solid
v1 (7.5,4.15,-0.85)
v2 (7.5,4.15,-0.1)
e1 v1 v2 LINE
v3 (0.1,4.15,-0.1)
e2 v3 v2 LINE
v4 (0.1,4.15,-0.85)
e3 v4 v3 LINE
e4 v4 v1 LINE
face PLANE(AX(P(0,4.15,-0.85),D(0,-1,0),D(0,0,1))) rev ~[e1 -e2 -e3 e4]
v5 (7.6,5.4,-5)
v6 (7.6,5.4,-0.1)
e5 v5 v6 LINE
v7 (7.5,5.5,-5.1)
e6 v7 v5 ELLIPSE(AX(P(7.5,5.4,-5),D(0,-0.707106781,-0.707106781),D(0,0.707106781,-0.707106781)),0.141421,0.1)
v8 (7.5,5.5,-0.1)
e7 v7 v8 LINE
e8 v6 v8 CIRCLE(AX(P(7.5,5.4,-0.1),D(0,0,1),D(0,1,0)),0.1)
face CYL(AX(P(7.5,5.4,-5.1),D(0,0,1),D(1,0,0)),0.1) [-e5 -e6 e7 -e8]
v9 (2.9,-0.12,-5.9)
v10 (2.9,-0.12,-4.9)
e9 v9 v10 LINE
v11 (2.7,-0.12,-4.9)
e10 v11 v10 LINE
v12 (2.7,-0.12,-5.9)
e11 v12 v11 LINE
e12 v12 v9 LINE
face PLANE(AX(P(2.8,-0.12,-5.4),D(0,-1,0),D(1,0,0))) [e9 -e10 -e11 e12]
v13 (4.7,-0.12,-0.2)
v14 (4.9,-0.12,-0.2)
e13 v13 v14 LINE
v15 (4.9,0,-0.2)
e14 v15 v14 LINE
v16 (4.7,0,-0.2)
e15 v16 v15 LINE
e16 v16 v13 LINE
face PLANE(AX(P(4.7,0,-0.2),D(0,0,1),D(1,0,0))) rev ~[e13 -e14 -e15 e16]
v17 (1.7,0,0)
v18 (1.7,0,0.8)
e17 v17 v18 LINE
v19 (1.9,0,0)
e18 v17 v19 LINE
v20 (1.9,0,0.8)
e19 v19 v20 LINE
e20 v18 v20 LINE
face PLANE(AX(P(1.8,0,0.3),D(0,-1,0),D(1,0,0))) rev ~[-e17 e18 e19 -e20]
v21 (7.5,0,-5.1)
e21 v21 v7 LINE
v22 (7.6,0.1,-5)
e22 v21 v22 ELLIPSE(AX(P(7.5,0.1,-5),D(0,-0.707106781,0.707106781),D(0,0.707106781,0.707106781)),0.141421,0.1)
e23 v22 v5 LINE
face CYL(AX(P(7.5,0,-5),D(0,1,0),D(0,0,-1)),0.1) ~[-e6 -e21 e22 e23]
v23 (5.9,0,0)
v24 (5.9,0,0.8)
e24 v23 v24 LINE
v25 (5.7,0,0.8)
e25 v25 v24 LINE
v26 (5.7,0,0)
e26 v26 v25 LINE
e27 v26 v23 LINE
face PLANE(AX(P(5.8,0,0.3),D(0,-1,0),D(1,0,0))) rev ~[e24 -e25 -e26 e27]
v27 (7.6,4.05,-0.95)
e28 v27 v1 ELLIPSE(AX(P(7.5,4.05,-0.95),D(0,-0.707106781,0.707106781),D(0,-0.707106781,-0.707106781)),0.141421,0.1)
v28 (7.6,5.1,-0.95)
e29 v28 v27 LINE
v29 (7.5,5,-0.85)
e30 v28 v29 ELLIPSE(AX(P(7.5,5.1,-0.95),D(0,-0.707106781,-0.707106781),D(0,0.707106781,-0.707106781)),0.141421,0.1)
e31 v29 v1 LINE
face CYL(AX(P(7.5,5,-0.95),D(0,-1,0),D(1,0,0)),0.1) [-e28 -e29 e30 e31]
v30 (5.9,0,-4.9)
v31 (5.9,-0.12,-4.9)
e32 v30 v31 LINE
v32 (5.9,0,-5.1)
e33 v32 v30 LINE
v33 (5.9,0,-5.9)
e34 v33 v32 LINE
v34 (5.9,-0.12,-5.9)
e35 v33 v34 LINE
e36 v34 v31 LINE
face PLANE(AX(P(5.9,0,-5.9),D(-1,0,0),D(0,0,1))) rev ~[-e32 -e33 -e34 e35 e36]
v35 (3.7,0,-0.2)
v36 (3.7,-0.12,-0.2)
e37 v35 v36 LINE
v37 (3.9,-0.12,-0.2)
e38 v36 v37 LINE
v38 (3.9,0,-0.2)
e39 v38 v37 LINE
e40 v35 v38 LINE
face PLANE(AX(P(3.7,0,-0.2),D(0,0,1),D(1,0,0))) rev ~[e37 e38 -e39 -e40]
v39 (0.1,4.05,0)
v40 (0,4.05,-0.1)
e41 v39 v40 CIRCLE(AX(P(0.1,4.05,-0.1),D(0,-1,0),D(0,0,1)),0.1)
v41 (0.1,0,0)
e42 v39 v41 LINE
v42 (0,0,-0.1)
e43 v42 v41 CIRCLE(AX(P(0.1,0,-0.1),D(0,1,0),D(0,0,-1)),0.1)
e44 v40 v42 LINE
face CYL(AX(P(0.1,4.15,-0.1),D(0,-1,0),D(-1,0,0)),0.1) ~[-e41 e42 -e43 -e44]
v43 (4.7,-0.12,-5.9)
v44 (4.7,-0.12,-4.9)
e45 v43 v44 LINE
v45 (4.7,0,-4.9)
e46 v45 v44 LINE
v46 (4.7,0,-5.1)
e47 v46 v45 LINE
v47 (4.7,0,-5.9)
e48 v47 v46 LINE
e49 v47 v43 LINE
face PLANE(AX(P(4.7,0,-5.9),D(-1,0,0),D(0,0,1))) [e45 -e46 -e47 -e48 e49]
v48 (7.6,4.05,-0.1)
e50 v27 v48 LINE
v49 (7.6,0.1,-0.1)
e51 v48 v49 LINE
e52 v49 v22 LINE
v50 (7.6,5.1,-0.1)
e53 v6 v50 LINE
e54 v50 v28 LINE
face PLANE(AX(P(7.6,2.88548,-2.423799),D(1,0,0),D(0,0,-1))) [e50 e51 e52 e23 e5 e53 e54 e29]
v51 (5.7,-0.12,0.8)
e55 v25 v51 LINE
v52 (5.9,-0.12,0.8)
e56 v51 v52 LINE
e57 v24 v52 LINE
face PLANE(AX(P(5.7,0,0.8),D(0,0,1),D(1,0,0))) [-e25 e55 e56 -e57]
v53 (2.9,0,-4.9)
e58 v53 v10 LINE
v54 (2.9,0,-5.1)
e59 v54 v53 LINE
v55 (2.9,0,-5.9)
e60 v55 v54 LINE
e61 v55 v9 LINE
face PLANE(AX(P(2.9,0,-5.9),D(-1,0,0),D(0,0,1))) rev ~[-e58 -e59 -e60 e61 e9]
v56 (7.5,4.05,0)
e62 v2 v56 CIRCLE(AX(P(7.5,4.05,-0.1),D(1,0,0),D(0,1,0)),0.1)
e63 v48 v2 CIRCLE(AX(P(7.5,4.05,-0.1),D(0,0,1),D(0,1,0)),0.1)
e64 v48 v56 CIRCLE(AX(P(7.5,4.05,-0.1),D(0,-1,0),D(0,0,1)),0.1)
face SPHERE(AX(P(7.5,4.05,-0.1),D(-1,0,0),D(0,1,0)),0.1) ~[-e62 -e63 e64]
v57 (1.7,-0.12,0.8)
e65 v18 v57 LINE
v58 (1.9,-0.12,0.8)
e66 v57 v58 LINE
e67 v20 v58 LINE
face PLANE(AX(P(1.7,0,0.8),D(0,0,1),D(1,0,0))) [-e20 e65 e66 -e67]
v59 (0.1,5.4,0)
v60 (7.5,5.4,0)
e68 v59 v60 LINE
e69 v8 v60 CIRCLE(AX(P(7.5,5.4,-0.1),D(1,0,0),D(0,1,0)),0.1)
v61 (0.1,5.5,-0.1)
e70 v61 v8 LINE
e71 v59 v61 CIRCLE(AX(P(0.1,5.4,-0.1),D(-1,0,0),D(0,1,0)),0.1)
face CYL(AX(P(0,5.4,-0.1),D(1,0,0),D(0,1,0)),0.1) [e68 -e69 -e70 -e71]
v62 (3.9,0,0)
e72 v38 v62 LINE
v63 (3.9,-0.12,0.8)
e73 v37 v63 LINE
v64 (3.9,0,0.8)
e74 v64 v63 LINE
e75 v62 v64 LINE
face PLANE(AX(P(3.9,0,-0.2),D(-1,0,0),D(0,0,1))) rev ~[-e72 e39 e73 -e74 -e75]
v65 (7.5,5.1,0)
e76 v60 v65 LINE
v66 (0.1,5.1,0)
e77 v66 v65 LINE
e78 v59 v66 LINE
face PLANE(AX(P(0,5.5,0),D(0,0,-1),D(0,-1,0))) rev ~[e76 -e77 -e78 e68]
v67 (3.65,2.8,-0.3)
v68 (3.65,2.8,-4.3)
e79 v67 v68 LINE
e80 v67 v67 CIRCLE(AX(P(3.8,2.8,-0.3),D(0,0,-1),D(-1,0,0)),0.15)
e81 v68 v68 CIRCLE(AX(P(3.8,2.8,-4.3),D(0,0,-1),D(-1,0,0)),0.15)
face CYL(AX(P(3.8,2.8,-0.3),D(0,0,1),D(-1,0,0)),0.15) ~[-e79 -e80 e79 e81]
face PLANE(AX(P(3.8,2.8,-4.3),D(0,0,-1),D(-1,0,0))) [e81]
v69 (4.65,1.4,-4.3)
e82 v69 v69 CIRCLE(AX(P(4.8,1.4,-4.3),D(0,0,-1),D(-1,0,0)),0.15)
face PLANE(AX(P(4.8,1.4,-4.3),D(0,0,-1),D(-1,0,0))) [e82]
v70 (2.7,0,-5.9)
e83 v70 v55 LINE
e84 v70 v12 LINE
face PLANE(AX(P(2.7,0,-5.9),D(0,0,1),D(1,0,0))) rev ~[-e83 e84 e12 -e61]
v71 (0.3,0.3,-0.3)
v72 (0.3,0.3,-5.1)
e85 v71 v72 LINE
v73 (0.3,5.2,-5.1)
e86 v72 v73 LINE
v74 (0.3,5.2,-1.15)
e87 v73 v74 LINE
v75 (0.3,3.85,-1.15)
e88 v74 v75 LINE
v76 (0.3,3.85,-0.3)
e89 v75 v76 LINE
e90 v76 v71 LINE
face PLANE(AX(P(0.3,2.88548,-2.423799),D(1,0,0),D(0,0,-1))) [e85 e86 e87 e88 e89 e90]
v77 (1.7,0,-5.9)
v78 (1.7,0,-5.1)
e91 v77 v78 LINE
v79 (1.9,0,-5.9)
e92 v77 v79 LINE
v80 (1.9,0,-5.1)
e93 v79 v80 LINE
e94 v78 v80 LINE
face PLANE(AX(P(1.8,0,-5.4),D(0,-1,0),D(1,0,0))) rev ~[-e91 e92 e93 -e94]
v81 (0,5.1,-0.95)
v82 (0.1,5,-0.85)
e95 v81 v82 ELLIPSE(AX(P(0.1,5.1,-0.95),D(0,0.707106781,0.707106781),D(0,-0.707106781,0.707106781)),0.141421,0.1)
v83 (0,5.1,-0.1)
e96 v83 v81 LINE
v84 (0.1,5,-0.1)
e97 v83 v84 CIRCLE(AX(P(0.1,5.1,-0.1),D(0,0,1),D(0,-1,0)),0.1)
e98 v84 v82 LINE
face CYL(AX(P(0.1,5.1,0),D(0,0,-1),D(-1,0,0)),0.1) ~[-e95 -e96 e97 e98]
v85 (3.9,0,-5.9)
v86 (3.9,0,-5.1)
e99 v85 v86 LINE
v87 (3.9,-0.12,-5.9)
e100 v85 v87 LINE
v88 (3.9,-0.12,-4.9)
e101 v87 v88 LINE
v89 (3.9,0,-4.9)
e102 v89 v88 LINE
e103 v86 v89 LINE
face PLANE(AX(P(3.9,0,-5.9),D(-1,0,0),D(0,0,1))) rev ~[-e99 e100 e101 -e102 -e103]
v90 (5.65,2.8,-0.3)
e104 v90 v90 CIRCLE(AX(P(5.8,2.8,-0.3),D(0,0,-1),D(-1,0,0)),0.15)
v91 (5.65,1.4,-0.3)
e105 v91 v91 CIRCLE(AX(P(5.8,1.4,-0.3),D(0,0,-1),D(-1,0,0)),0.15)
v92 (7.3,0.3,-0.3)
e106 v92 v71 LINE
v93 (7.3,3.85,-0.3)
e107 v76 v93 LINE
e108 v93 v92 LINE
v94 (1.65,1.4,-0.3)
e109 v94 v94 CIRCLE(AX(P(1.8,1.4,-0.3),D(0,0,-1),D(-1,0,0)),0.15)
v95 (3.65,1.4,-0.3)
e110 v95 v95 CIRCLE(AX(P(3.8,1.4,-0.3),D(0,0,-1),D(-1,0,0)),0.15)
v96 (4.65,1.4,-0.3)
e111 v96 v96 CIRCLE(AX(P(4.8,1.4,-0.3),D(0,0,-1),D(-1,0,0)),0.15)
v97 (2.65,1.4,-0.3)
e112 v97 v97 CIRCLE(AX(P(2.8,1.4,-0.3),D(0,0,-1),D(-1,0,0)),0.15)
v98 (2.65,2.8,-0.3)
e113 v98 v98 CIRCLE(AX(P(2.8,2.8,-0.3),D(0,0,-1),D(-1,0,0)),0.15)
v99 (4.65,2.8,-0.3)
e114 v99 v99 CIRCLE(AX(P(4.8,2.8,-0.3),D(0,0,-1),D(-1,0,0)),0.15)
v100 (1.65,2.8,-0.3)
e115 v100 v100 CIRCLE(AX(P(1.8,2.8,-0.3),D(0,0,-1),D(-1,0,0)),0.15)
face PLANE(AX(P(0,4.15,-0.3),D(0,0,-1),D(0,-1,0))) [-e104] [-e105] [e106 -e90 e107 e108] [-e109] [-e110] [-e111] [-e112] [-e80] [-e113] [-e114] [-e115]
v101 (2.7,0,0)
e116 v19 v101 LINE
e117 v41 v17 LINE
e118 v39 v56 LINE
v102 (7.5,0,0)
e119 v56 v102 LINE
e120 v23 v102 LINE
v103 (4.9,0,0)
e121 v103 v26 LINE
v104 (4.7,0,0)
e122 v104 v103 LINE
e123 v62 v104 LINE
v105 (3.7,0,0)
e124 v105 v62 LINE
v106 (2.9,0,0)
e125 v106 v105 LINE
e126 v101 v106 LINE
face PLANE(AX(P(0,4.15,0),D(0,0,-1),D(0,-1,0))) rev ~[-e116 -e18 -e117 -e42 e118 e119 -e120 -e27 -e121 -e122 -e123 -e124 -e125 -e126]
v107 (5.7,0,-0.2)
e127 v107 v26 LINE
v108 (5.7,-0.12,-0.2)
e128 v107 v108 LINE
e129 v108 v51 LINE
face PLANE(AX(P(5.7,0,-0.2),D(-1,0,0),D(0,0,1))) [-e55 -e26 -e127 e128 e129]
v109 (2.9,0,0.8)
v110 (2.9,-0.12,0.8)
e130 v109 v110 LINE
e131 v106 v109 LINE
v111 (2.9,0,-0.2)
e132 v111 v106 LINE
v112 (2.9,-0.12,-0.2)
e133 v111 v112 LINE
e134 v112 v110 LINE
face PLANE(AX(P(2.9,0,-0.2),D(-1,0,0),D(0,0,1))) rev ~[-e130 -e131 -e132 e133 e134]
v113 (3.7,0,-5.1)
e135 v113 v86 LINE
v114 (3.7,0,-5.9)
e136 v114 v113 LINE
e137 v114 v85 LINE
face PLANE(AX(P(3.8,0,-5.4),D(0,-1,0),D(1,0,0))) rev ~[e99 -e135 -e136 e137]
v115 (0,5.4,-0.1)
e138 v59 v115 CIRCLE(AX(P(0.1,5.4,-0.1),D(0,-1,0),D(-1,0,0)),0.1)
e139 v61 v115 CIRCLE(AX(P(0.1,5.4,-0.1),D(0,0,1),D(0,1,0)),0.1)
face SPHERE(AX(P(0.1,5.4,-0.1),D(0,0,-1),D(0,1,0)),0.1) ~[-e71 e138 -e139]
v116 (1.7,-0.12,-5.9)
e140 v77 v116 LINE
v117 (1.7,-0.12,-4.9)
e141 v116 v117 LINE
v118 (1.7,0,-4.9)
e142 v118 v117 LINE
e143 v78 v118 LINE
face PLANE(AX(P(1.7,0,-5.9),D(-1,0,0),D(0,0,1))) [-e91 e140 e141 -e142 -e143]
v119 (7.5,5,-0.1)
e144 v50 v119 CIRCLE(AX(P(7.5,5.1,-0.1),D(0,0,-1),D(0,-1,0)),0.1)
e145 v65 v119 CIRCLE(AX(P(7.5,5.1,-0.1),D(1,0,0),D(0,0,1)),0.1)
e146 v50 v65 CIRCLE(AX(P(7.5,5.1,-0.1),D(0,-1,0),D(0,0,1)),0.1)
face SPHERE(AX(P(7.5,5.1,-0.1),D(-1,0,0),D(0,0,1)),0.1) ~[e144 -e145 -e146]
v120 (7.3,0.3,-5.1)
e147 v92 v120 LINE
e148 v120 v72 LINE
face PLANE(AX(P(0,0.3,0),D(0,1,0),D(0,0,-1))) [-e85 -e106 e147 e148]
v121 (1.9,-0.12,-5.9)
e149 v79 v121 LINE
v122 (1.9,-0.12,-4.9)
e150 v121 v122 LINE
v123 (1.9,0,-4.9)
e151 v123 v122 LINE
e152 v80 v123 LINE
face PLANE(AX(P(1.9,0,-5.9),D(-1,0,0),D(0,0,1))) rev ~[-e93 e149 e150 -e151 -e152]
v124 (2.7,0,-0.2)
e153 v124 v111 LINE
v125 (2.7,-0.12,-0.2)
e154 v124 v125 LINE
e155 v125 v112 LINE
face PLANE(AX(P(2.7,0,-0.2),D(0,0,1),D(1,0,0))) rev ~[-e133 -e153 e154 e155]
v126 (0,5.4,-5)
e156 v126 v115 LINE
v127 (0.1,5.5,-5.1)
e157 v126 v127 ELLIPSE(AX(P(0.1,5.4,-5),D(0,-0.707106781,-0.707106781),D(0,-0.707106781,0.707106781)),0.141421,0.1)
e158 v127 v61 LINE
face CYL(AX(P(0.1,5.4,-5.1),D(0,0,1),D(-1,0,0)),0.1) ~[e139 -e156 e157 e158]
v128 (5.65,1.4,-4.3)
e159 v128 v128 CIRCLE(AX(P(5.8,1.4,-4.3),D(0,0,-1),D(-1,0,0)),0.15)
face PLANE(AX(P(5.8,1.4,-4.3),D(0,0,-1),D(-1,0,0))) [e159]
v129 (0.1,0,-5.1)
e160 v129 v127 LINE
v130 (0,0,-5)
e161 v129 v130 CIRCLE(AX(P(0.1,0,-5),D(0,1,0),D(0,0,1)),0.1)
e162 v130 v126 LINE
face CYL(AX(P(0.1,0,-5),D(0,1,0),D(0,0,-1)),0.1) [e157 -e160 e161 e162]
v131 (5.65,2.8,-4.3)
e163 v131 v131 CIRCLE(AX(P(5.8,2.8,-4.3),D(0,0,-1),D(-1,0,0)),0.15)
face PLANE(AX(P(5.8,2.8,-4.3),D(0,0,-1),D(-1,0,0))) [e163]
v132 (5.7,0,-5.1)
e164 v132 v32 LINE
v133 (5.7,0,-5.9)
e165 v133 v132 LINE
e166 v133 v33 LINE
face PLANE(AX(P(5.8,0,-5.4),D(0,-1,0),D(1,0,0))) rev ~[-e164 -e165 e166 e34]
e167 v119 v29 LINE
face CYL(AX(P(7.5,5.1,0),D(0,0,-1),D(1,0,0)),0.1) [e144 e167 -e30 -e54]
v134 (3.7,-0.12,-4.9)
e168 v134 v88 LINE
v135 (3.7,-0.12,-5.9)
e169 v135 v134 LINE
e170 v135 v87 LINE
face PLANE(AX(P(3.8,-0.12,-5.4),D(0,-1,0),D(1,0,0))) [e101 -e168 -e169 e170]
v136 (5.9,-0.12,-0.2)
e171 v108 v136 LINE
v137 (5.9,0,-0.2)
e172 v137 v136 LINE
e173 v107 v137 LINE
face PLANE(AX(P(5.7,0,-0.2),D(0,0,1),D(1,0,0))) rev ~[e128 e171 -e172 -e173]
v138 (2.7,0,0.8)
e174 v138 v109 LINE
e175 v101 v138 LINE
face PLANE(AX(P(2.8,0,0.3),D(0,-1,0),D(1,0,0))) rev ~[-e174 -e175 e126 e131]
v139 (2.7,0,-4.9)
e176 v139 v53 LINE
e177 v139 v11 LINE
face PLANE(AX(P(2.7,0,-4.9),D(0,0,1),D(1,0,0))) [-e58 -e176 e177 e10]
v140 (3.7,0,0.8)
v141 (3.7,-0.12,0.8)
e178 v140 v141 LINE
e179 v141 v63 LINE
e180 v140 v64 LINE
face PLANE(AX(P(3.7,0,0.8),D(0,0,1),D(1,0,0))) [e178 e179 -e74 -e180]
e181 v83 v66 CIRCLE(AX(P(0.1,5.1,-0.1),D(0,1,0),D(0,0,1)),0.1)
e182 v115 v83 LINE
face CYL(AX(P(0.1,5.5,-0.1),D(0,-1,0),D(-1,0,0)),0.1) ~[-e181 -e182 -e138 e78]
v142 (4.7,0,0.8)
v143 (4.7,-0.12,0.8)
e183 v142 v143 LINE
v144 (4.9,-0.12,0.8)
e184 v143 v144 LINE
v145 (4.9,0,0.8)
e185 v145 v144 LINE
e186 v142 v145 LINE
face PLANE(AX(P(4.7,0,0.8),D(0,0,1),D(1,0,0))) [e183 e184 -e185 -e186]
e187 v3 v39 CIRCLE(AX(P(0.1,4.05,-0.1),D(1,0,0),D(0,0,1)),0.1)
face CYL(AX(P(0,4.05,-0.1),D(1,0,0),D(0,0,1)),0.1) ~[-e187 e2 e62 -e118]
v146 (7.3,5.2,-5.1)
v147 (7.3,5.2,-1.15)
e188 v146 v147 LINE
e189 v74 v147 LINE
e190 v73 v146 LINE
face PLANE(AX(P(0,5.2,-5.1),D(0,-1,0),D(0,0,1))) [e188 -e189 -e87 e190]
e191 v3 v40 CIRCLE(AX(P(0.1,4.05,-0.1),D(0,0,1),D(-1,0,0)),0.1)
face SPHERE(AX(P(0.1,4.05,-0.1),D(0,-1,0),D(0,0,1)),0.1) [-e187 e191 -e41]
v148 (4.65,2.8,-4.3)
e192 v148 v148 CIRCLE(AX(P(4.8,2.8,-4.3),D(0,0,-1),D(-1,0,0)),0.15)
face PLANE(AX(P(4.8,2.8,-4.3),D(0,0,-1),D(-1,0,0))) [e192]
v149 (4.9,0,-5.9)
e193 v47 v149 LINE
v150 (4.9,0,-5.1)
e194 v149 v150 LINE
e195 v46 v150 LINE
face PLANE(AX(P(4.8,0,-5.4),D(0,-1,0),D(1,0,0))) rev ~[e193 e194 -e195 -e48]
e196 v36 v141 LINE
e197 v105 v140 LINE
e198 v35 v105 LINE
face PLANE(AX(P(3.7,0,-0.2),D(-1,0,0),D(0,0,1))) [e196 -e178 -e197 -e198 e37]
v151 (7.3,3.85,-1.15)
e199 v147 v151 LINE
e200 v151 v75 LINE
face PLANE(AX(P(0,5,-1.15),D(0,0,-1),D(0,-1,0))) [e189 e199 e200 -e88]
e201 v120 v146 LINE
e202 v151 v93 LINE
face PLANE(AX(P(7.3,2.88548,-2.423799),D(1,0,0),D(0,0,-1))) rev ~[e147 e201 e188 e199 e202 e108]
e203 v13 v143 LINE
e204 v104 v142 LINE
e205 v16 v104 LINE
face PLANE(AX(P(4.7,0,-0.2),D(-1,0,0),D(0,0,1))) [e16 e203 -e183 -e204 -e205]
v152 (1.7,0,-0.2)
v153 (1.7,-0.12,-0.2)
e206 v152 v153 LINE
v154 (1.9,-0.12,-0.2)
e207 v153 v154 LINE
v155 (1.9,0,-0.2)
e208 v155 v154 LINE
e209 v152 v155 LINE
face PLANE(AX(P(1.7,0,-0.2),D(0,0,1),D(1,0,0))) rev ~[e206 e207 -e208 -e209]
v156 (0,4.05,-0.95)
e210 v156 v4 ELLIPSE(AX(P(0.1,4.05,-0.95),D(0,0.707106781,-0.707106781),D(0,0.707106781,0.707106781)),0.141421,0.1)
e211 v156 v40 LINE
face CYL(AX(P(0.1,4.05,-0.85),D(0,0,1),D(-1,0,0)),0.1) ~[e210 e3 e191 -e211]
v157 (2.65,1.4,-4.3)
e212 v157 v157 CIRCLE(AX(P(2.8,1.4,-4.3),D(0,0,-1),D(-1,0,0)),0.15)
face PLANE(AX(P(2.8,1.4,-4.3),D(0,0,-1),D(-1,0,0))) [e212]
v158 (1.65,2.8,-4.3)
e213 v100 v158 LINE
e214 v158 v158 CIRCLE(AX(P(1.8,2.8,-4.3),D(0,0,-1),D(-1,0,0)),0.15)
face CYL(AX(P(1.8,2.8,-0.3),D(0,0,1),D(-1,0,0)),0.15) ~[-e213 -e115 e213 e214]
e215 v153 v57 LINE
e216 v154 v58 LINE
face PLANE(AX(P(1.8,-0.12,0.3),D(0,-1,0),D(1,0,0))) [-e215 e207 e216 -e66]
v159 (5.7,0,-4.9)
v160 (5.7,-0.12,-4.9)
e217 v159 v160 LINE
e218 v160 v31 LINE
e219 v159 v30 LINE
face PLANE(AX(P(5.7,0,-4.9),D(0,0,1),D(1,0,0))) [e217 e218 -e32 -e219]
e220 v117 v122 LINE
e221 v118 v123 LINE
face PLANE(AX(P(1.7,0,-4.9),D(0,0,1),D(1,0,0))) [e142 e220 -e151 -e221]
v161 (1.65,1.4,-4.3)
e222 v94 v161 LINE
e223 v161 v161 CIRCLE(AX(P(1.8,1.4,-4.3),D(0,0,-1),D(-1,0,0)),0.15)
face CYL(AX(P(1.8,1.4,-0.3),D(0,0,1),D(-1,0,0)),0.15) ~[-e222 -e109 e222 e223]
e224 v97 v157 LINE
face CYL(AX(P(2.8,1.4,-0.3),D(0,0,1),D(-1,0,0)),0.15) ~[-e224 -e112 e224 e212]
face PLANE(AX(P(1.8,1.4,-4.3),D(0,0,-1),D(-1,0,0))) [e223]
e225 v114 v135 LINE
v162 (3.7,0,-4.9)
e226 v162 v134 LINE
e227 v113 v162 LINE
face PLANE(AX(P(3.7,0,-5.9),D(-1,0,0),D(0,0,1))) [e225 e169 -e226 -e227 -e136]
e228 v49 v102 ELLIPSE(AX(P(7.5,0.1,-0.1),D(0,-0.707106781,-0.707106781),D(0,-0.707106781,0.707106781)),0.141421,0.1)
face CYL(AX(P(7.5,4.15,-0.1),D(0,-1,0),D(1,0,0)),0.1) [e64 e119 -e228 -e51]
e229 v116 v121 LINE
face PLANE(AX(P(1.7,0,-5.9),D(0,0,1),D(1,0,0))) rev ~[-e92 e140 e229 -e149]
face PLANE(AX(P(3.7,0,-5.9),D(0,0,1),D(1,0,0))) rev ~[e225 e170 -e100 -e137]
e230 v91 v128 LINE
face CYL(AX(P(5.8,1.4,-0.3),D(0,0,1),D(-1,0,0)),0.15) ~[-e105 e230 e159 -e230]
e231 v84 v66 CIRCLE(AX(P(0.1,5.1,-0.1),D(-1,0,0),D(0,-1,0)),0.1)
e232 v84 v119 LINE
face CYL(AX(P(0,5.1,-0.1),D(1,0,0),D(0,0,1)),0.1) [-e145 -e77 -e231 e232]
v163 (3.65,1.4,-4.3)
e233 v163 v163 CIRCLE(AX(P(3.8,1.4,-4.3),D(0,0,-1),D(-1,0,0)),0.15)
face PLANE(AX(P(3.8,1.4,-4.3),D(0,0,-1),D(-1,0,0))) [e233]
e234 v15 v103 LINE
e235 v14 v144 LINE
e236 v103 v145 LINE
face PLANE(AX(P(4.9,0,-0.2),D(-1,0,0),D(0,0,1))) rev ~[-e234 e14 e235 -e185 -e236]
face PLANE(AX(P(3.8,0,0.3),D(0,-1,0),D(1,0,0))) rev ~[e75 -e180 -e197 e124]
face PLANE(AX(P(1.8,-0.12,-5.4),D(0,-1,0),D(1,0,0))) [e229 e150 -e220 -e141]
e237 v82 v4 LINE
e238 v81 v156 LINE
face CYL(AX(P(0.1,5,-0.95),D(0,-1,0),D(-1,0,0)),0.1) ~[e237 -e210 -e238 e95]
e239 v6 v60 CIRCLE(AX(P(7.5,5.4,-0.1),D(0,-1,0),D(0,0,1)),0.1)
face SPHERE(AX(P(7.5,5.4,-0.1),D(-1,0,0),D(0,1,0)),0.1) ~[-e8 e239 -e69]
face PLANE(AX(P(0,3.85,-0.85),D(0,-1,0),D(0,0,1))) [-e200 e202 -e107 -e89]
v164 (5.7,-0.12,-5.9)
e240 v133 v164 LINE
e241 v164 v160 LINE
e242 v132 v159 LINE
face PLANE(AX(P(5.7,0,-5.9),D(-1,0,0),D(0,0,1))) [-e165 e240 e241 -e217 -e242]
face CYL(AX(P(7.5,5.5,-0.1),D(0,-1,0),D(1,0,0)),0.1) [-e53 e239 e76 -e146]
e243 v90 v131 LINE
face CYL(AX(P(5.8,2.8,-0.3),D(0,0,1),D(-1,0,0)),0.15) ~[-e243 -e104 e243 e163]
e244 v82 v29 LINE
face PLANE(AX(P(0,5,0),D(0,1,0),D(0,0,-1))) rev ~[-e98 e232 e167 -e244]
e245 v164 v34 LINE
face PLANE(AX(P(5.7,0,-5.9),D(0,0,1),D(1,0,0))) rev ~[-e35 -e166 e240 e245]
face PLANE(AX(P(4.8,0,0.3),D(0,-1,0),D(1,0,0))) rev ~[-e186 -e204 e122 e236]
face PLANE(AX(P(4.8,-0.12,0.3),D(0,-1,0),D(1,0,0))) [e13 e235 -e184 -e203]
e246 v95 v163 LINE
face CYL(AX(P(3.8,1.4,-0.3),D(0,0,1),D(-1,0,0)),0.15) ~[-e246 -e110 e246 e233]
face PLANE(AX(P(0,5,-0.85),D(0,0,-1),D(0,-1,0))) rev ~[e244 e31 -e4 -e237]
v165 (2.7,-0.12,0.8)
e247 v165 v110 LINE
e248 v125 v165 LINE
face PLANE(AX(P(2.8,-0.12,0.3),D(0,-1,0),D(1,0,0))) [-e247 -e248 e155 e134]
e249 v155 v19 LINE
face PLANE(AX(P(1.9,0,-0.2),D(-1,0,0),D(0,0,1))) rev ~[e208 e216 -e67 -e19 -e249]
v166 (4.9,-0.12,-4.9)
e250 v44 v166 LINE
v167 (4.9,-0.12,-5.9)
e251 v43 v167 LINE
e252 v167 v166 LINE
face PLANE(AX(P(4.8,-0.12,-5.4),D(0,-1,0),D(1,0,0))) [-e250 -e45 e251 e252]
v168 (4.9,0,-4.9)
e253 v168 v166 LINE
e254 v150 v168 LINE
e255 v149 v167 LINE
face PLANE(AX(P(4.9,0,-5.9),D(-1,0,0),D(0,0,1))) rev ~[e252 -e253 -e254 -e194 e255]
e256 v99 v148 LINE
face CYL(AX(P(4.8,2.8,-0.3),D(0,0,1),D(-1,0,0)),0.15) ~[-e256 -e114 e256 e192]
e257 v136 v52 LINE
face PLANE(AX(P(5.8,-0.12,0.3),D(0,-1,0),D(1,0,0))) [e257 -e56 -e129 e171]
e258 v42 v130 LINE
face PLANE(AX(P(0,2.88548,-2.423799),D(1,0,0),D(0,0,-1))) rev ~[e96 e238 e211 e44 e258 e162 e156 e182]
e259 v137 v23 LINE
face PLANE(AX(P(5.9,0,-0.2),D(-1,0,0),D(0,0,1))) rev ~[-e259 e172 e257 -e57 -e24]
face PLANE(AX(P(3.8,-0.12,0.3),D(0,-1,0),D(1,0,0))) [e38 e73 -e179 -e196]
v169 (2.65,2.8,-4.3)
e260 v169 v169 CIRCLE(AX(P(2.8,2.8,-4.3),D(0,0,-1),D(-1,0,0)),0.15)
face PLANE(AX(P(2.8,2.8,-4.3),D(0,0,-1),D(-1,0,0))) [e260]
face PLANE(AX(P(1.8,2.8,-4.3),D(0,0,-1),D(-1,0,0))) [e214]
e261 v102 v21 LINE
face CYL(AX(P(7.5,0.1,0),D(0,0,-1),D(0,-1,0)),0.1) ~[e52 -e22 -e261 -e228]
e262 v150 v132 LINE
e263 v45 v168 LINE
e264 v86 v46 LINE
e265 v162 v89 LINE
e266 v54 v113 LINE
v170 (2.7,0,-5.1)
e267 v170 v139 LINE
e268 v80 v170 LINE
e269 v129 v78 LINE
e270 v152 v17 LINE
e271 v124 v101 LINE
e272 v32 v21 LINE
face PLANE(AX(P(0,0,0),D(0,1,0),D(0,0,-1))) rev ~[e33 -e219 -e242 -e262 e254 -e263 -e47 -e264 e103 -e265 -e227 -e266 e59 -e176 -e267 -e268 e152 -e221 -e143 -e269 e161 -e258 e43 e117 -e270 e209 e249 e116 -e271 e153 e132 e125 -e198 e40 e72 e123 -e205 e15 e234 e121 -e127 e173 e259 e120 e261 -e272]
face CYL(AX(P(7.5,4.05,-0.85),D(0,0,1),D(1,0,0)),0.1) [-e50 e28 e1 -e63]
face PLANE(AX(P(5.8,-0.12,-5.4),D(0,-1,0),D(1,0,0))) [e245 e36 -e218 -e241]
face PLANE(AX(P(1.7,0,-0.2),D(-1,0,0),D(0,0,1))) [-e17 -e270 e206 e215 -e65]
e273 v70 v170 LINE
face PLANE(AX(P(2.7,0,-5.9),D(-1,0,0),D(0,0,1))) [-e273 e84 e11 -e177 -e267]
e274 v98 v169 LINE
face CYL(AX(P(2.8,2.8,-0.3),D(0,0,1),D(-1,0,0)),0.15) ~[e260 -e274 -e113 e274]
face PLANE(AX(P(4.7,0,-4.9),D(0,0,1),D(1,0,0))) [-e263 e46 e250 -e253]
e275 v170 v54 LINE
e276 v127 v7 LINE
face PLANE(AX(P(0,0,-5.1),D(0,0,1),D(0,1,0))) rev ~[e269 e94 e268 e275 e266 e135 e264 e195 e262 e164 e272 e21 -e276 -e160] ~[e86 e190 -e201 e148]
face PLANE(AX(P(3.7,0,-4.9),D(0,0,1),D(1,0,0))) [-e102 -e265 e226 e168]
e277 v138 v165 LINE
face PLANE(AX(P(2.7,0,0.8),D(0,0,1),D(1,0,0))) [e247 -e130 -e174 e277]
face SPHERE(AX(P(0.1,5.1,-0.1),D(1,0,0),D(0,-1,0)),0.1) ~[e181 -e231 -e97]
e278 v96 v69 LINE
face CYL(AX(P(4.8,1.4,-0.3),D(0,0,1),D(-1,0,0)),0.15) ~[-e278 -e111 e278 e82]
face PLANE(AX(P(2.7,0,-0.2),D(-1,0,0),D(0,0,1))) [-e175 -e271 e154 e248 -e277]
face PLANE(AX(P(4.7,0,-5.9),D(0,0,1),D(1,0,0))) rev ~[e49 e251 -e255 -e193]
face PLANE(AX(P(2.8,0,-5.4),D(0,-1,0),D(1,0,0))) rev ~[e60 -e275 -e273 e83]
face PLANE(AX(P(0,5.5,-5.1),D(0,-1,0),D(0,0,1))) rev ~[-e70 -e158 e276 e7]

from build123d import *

# Parameters (mm, degrees)
EXTRUDE_1_DEPTH = 7.6
SHELL_1_T       = -0.3
SKETCH_2_W      = 0.2
SKETCH_2_H      = 1
EXTRUDE_2_DEPTH = 0.12
SKETCH_3_R      = 0.15
EXTRUDE_3_DEPTH = 4
FILLET_2_R      = 0.1


with BuildPart() as part:
    # 草图1 → 凸台-拉伸1 (new body)
    with BuildSketch(Plane(origin=(0, 0, 0), x_dir=(0, 0, -1), z_dir=(1, 0, 0))):
        Polygon((0, 0), (5.1, 0), (5.1, 5.5), (0, 5.5), (0, 5), (0.85, 5), (0.85, 4.15), (0, 4.15), align=None)
    extrude(amount=EXTRUDE_1_DEPTH)

    # 抽壳1
    shell_1_openings = [part.faces().sort_by_distance(p)[0] for p in [
        (3.8, 2.75, -5.1),
    ]]
    offset(amount=SHELL_1_T, openings=shell_1_openings, kind=Kind.INTERSECTION)

    # 草图2 → 凸台-拉伸2 (add)
    with BuildSketch(Plane.XZ):
        with Locations((2.8, -5.4)):
            Rectangle(SKETCH_2_W, SKETCH_2_H)
        with Locations((1.8, -5.4)):
            Rectangle(SKETCH_2_W, SKETCH_2_H)
        with Locations((3.8, -5.4)):
            Rectangle(SKETCH_2_W, SKETCH_2_H)
        with Locations((4.8, -5.4)):
            Rectangle(SKETCH_2_W, SKETCH_2_H)
        with Locations((5.8, -5.4)):
            Rectangle(SKETCH_2_W, SKETCH_2_H)
        with Locations((5.8, 0.3)):
            Rectangle(SKETCH_2_W, SKETCH_2_H)
        with Locations((4.8, 0.3)):
            Rectangle(SKETCH_2_W, SKETCH_2_H)
        with Locations((3.8, 0.3)):
            Rectangle(SKETCH_2_W, SKETCH_2_H)
        with Locations((2.8, 0.3)):
            Rectangle(SKETCH_2_W, SKETCH_2_H)
        with Locations((1.8, 0.3)):
            Rectangle(SKETCH_2_W, SKETCH_2_H)
    extrude(amount=EXTRUDE_2_DEPTH)

    # 草图3 → 凸台-拉伸3 (add)
    with BuildSketch(Plane(origin=(0, 0, -0.3), x_dir=(-1, 0, 0), z_dir=(0, 0, -1))):
        with Locations((-5.8, 1.4)):
            Circle(SKETCH_3_R)
        with Locations((-4.8, 1.4)):
            Circle(SKETCH_3_R)
        with Locations((-3.8, 1.4)):
            Circle(SKETCH_3_R)
        with Locations((-2.8, 1.4)):
            Circle(SKETCH_3_R)
        with Locations((-1.8, 1.4)):
            Circle(SKETCH_3_R)
        with Locations((-1.8, 2.8)):
            Circle(SKETCH_3_R)
        with Locations((-2.8, 2.8)):
            Circle(SKETCH_3_R)
        with Locations((-3.8, 2.8)):
            Circle(SKETCH_3_R)
        with Locations((-4.8, 2.8)):
            Circle(SKETCH_3_R)
        with Locations((-5.8, 2.8)):
            Circle(SKETCH_3_R)
    extrude(amount=EXTRUDE_3_DEPTH)

    # 圆角2
    fillet_2_edges = [part.edges().sort_by_distance(p)[0] for p in [
        (0, 5.5, -2.55),
        (0, 2.75, -5.1),
        (0, 2.075, 0),
        (7.6, 2.75, -5.1),
        (3.8, 4.15, 0),
        (3.8, 5, 0),
        (3.8, 5.5, 0),
        (7.6, 5.5, -2.55),
        (7.6, 5.25, 0),
        (7.6, 5, -0.425),
        (7.6, 4.575, -0.85),
        (7.6, 4.15, -0.425),
        (7.6, 2.075, 0),
        (0, 4.15, -0.425),
        (7.6, 0, -2.55),
        (0, 4.575, -0.85),
        (0, 5, -0.425),
        (0, 5.25, 0),
    ]]
    fillet(fillet_2_edges, radius=FILLET_2_R)


solid = part.part
